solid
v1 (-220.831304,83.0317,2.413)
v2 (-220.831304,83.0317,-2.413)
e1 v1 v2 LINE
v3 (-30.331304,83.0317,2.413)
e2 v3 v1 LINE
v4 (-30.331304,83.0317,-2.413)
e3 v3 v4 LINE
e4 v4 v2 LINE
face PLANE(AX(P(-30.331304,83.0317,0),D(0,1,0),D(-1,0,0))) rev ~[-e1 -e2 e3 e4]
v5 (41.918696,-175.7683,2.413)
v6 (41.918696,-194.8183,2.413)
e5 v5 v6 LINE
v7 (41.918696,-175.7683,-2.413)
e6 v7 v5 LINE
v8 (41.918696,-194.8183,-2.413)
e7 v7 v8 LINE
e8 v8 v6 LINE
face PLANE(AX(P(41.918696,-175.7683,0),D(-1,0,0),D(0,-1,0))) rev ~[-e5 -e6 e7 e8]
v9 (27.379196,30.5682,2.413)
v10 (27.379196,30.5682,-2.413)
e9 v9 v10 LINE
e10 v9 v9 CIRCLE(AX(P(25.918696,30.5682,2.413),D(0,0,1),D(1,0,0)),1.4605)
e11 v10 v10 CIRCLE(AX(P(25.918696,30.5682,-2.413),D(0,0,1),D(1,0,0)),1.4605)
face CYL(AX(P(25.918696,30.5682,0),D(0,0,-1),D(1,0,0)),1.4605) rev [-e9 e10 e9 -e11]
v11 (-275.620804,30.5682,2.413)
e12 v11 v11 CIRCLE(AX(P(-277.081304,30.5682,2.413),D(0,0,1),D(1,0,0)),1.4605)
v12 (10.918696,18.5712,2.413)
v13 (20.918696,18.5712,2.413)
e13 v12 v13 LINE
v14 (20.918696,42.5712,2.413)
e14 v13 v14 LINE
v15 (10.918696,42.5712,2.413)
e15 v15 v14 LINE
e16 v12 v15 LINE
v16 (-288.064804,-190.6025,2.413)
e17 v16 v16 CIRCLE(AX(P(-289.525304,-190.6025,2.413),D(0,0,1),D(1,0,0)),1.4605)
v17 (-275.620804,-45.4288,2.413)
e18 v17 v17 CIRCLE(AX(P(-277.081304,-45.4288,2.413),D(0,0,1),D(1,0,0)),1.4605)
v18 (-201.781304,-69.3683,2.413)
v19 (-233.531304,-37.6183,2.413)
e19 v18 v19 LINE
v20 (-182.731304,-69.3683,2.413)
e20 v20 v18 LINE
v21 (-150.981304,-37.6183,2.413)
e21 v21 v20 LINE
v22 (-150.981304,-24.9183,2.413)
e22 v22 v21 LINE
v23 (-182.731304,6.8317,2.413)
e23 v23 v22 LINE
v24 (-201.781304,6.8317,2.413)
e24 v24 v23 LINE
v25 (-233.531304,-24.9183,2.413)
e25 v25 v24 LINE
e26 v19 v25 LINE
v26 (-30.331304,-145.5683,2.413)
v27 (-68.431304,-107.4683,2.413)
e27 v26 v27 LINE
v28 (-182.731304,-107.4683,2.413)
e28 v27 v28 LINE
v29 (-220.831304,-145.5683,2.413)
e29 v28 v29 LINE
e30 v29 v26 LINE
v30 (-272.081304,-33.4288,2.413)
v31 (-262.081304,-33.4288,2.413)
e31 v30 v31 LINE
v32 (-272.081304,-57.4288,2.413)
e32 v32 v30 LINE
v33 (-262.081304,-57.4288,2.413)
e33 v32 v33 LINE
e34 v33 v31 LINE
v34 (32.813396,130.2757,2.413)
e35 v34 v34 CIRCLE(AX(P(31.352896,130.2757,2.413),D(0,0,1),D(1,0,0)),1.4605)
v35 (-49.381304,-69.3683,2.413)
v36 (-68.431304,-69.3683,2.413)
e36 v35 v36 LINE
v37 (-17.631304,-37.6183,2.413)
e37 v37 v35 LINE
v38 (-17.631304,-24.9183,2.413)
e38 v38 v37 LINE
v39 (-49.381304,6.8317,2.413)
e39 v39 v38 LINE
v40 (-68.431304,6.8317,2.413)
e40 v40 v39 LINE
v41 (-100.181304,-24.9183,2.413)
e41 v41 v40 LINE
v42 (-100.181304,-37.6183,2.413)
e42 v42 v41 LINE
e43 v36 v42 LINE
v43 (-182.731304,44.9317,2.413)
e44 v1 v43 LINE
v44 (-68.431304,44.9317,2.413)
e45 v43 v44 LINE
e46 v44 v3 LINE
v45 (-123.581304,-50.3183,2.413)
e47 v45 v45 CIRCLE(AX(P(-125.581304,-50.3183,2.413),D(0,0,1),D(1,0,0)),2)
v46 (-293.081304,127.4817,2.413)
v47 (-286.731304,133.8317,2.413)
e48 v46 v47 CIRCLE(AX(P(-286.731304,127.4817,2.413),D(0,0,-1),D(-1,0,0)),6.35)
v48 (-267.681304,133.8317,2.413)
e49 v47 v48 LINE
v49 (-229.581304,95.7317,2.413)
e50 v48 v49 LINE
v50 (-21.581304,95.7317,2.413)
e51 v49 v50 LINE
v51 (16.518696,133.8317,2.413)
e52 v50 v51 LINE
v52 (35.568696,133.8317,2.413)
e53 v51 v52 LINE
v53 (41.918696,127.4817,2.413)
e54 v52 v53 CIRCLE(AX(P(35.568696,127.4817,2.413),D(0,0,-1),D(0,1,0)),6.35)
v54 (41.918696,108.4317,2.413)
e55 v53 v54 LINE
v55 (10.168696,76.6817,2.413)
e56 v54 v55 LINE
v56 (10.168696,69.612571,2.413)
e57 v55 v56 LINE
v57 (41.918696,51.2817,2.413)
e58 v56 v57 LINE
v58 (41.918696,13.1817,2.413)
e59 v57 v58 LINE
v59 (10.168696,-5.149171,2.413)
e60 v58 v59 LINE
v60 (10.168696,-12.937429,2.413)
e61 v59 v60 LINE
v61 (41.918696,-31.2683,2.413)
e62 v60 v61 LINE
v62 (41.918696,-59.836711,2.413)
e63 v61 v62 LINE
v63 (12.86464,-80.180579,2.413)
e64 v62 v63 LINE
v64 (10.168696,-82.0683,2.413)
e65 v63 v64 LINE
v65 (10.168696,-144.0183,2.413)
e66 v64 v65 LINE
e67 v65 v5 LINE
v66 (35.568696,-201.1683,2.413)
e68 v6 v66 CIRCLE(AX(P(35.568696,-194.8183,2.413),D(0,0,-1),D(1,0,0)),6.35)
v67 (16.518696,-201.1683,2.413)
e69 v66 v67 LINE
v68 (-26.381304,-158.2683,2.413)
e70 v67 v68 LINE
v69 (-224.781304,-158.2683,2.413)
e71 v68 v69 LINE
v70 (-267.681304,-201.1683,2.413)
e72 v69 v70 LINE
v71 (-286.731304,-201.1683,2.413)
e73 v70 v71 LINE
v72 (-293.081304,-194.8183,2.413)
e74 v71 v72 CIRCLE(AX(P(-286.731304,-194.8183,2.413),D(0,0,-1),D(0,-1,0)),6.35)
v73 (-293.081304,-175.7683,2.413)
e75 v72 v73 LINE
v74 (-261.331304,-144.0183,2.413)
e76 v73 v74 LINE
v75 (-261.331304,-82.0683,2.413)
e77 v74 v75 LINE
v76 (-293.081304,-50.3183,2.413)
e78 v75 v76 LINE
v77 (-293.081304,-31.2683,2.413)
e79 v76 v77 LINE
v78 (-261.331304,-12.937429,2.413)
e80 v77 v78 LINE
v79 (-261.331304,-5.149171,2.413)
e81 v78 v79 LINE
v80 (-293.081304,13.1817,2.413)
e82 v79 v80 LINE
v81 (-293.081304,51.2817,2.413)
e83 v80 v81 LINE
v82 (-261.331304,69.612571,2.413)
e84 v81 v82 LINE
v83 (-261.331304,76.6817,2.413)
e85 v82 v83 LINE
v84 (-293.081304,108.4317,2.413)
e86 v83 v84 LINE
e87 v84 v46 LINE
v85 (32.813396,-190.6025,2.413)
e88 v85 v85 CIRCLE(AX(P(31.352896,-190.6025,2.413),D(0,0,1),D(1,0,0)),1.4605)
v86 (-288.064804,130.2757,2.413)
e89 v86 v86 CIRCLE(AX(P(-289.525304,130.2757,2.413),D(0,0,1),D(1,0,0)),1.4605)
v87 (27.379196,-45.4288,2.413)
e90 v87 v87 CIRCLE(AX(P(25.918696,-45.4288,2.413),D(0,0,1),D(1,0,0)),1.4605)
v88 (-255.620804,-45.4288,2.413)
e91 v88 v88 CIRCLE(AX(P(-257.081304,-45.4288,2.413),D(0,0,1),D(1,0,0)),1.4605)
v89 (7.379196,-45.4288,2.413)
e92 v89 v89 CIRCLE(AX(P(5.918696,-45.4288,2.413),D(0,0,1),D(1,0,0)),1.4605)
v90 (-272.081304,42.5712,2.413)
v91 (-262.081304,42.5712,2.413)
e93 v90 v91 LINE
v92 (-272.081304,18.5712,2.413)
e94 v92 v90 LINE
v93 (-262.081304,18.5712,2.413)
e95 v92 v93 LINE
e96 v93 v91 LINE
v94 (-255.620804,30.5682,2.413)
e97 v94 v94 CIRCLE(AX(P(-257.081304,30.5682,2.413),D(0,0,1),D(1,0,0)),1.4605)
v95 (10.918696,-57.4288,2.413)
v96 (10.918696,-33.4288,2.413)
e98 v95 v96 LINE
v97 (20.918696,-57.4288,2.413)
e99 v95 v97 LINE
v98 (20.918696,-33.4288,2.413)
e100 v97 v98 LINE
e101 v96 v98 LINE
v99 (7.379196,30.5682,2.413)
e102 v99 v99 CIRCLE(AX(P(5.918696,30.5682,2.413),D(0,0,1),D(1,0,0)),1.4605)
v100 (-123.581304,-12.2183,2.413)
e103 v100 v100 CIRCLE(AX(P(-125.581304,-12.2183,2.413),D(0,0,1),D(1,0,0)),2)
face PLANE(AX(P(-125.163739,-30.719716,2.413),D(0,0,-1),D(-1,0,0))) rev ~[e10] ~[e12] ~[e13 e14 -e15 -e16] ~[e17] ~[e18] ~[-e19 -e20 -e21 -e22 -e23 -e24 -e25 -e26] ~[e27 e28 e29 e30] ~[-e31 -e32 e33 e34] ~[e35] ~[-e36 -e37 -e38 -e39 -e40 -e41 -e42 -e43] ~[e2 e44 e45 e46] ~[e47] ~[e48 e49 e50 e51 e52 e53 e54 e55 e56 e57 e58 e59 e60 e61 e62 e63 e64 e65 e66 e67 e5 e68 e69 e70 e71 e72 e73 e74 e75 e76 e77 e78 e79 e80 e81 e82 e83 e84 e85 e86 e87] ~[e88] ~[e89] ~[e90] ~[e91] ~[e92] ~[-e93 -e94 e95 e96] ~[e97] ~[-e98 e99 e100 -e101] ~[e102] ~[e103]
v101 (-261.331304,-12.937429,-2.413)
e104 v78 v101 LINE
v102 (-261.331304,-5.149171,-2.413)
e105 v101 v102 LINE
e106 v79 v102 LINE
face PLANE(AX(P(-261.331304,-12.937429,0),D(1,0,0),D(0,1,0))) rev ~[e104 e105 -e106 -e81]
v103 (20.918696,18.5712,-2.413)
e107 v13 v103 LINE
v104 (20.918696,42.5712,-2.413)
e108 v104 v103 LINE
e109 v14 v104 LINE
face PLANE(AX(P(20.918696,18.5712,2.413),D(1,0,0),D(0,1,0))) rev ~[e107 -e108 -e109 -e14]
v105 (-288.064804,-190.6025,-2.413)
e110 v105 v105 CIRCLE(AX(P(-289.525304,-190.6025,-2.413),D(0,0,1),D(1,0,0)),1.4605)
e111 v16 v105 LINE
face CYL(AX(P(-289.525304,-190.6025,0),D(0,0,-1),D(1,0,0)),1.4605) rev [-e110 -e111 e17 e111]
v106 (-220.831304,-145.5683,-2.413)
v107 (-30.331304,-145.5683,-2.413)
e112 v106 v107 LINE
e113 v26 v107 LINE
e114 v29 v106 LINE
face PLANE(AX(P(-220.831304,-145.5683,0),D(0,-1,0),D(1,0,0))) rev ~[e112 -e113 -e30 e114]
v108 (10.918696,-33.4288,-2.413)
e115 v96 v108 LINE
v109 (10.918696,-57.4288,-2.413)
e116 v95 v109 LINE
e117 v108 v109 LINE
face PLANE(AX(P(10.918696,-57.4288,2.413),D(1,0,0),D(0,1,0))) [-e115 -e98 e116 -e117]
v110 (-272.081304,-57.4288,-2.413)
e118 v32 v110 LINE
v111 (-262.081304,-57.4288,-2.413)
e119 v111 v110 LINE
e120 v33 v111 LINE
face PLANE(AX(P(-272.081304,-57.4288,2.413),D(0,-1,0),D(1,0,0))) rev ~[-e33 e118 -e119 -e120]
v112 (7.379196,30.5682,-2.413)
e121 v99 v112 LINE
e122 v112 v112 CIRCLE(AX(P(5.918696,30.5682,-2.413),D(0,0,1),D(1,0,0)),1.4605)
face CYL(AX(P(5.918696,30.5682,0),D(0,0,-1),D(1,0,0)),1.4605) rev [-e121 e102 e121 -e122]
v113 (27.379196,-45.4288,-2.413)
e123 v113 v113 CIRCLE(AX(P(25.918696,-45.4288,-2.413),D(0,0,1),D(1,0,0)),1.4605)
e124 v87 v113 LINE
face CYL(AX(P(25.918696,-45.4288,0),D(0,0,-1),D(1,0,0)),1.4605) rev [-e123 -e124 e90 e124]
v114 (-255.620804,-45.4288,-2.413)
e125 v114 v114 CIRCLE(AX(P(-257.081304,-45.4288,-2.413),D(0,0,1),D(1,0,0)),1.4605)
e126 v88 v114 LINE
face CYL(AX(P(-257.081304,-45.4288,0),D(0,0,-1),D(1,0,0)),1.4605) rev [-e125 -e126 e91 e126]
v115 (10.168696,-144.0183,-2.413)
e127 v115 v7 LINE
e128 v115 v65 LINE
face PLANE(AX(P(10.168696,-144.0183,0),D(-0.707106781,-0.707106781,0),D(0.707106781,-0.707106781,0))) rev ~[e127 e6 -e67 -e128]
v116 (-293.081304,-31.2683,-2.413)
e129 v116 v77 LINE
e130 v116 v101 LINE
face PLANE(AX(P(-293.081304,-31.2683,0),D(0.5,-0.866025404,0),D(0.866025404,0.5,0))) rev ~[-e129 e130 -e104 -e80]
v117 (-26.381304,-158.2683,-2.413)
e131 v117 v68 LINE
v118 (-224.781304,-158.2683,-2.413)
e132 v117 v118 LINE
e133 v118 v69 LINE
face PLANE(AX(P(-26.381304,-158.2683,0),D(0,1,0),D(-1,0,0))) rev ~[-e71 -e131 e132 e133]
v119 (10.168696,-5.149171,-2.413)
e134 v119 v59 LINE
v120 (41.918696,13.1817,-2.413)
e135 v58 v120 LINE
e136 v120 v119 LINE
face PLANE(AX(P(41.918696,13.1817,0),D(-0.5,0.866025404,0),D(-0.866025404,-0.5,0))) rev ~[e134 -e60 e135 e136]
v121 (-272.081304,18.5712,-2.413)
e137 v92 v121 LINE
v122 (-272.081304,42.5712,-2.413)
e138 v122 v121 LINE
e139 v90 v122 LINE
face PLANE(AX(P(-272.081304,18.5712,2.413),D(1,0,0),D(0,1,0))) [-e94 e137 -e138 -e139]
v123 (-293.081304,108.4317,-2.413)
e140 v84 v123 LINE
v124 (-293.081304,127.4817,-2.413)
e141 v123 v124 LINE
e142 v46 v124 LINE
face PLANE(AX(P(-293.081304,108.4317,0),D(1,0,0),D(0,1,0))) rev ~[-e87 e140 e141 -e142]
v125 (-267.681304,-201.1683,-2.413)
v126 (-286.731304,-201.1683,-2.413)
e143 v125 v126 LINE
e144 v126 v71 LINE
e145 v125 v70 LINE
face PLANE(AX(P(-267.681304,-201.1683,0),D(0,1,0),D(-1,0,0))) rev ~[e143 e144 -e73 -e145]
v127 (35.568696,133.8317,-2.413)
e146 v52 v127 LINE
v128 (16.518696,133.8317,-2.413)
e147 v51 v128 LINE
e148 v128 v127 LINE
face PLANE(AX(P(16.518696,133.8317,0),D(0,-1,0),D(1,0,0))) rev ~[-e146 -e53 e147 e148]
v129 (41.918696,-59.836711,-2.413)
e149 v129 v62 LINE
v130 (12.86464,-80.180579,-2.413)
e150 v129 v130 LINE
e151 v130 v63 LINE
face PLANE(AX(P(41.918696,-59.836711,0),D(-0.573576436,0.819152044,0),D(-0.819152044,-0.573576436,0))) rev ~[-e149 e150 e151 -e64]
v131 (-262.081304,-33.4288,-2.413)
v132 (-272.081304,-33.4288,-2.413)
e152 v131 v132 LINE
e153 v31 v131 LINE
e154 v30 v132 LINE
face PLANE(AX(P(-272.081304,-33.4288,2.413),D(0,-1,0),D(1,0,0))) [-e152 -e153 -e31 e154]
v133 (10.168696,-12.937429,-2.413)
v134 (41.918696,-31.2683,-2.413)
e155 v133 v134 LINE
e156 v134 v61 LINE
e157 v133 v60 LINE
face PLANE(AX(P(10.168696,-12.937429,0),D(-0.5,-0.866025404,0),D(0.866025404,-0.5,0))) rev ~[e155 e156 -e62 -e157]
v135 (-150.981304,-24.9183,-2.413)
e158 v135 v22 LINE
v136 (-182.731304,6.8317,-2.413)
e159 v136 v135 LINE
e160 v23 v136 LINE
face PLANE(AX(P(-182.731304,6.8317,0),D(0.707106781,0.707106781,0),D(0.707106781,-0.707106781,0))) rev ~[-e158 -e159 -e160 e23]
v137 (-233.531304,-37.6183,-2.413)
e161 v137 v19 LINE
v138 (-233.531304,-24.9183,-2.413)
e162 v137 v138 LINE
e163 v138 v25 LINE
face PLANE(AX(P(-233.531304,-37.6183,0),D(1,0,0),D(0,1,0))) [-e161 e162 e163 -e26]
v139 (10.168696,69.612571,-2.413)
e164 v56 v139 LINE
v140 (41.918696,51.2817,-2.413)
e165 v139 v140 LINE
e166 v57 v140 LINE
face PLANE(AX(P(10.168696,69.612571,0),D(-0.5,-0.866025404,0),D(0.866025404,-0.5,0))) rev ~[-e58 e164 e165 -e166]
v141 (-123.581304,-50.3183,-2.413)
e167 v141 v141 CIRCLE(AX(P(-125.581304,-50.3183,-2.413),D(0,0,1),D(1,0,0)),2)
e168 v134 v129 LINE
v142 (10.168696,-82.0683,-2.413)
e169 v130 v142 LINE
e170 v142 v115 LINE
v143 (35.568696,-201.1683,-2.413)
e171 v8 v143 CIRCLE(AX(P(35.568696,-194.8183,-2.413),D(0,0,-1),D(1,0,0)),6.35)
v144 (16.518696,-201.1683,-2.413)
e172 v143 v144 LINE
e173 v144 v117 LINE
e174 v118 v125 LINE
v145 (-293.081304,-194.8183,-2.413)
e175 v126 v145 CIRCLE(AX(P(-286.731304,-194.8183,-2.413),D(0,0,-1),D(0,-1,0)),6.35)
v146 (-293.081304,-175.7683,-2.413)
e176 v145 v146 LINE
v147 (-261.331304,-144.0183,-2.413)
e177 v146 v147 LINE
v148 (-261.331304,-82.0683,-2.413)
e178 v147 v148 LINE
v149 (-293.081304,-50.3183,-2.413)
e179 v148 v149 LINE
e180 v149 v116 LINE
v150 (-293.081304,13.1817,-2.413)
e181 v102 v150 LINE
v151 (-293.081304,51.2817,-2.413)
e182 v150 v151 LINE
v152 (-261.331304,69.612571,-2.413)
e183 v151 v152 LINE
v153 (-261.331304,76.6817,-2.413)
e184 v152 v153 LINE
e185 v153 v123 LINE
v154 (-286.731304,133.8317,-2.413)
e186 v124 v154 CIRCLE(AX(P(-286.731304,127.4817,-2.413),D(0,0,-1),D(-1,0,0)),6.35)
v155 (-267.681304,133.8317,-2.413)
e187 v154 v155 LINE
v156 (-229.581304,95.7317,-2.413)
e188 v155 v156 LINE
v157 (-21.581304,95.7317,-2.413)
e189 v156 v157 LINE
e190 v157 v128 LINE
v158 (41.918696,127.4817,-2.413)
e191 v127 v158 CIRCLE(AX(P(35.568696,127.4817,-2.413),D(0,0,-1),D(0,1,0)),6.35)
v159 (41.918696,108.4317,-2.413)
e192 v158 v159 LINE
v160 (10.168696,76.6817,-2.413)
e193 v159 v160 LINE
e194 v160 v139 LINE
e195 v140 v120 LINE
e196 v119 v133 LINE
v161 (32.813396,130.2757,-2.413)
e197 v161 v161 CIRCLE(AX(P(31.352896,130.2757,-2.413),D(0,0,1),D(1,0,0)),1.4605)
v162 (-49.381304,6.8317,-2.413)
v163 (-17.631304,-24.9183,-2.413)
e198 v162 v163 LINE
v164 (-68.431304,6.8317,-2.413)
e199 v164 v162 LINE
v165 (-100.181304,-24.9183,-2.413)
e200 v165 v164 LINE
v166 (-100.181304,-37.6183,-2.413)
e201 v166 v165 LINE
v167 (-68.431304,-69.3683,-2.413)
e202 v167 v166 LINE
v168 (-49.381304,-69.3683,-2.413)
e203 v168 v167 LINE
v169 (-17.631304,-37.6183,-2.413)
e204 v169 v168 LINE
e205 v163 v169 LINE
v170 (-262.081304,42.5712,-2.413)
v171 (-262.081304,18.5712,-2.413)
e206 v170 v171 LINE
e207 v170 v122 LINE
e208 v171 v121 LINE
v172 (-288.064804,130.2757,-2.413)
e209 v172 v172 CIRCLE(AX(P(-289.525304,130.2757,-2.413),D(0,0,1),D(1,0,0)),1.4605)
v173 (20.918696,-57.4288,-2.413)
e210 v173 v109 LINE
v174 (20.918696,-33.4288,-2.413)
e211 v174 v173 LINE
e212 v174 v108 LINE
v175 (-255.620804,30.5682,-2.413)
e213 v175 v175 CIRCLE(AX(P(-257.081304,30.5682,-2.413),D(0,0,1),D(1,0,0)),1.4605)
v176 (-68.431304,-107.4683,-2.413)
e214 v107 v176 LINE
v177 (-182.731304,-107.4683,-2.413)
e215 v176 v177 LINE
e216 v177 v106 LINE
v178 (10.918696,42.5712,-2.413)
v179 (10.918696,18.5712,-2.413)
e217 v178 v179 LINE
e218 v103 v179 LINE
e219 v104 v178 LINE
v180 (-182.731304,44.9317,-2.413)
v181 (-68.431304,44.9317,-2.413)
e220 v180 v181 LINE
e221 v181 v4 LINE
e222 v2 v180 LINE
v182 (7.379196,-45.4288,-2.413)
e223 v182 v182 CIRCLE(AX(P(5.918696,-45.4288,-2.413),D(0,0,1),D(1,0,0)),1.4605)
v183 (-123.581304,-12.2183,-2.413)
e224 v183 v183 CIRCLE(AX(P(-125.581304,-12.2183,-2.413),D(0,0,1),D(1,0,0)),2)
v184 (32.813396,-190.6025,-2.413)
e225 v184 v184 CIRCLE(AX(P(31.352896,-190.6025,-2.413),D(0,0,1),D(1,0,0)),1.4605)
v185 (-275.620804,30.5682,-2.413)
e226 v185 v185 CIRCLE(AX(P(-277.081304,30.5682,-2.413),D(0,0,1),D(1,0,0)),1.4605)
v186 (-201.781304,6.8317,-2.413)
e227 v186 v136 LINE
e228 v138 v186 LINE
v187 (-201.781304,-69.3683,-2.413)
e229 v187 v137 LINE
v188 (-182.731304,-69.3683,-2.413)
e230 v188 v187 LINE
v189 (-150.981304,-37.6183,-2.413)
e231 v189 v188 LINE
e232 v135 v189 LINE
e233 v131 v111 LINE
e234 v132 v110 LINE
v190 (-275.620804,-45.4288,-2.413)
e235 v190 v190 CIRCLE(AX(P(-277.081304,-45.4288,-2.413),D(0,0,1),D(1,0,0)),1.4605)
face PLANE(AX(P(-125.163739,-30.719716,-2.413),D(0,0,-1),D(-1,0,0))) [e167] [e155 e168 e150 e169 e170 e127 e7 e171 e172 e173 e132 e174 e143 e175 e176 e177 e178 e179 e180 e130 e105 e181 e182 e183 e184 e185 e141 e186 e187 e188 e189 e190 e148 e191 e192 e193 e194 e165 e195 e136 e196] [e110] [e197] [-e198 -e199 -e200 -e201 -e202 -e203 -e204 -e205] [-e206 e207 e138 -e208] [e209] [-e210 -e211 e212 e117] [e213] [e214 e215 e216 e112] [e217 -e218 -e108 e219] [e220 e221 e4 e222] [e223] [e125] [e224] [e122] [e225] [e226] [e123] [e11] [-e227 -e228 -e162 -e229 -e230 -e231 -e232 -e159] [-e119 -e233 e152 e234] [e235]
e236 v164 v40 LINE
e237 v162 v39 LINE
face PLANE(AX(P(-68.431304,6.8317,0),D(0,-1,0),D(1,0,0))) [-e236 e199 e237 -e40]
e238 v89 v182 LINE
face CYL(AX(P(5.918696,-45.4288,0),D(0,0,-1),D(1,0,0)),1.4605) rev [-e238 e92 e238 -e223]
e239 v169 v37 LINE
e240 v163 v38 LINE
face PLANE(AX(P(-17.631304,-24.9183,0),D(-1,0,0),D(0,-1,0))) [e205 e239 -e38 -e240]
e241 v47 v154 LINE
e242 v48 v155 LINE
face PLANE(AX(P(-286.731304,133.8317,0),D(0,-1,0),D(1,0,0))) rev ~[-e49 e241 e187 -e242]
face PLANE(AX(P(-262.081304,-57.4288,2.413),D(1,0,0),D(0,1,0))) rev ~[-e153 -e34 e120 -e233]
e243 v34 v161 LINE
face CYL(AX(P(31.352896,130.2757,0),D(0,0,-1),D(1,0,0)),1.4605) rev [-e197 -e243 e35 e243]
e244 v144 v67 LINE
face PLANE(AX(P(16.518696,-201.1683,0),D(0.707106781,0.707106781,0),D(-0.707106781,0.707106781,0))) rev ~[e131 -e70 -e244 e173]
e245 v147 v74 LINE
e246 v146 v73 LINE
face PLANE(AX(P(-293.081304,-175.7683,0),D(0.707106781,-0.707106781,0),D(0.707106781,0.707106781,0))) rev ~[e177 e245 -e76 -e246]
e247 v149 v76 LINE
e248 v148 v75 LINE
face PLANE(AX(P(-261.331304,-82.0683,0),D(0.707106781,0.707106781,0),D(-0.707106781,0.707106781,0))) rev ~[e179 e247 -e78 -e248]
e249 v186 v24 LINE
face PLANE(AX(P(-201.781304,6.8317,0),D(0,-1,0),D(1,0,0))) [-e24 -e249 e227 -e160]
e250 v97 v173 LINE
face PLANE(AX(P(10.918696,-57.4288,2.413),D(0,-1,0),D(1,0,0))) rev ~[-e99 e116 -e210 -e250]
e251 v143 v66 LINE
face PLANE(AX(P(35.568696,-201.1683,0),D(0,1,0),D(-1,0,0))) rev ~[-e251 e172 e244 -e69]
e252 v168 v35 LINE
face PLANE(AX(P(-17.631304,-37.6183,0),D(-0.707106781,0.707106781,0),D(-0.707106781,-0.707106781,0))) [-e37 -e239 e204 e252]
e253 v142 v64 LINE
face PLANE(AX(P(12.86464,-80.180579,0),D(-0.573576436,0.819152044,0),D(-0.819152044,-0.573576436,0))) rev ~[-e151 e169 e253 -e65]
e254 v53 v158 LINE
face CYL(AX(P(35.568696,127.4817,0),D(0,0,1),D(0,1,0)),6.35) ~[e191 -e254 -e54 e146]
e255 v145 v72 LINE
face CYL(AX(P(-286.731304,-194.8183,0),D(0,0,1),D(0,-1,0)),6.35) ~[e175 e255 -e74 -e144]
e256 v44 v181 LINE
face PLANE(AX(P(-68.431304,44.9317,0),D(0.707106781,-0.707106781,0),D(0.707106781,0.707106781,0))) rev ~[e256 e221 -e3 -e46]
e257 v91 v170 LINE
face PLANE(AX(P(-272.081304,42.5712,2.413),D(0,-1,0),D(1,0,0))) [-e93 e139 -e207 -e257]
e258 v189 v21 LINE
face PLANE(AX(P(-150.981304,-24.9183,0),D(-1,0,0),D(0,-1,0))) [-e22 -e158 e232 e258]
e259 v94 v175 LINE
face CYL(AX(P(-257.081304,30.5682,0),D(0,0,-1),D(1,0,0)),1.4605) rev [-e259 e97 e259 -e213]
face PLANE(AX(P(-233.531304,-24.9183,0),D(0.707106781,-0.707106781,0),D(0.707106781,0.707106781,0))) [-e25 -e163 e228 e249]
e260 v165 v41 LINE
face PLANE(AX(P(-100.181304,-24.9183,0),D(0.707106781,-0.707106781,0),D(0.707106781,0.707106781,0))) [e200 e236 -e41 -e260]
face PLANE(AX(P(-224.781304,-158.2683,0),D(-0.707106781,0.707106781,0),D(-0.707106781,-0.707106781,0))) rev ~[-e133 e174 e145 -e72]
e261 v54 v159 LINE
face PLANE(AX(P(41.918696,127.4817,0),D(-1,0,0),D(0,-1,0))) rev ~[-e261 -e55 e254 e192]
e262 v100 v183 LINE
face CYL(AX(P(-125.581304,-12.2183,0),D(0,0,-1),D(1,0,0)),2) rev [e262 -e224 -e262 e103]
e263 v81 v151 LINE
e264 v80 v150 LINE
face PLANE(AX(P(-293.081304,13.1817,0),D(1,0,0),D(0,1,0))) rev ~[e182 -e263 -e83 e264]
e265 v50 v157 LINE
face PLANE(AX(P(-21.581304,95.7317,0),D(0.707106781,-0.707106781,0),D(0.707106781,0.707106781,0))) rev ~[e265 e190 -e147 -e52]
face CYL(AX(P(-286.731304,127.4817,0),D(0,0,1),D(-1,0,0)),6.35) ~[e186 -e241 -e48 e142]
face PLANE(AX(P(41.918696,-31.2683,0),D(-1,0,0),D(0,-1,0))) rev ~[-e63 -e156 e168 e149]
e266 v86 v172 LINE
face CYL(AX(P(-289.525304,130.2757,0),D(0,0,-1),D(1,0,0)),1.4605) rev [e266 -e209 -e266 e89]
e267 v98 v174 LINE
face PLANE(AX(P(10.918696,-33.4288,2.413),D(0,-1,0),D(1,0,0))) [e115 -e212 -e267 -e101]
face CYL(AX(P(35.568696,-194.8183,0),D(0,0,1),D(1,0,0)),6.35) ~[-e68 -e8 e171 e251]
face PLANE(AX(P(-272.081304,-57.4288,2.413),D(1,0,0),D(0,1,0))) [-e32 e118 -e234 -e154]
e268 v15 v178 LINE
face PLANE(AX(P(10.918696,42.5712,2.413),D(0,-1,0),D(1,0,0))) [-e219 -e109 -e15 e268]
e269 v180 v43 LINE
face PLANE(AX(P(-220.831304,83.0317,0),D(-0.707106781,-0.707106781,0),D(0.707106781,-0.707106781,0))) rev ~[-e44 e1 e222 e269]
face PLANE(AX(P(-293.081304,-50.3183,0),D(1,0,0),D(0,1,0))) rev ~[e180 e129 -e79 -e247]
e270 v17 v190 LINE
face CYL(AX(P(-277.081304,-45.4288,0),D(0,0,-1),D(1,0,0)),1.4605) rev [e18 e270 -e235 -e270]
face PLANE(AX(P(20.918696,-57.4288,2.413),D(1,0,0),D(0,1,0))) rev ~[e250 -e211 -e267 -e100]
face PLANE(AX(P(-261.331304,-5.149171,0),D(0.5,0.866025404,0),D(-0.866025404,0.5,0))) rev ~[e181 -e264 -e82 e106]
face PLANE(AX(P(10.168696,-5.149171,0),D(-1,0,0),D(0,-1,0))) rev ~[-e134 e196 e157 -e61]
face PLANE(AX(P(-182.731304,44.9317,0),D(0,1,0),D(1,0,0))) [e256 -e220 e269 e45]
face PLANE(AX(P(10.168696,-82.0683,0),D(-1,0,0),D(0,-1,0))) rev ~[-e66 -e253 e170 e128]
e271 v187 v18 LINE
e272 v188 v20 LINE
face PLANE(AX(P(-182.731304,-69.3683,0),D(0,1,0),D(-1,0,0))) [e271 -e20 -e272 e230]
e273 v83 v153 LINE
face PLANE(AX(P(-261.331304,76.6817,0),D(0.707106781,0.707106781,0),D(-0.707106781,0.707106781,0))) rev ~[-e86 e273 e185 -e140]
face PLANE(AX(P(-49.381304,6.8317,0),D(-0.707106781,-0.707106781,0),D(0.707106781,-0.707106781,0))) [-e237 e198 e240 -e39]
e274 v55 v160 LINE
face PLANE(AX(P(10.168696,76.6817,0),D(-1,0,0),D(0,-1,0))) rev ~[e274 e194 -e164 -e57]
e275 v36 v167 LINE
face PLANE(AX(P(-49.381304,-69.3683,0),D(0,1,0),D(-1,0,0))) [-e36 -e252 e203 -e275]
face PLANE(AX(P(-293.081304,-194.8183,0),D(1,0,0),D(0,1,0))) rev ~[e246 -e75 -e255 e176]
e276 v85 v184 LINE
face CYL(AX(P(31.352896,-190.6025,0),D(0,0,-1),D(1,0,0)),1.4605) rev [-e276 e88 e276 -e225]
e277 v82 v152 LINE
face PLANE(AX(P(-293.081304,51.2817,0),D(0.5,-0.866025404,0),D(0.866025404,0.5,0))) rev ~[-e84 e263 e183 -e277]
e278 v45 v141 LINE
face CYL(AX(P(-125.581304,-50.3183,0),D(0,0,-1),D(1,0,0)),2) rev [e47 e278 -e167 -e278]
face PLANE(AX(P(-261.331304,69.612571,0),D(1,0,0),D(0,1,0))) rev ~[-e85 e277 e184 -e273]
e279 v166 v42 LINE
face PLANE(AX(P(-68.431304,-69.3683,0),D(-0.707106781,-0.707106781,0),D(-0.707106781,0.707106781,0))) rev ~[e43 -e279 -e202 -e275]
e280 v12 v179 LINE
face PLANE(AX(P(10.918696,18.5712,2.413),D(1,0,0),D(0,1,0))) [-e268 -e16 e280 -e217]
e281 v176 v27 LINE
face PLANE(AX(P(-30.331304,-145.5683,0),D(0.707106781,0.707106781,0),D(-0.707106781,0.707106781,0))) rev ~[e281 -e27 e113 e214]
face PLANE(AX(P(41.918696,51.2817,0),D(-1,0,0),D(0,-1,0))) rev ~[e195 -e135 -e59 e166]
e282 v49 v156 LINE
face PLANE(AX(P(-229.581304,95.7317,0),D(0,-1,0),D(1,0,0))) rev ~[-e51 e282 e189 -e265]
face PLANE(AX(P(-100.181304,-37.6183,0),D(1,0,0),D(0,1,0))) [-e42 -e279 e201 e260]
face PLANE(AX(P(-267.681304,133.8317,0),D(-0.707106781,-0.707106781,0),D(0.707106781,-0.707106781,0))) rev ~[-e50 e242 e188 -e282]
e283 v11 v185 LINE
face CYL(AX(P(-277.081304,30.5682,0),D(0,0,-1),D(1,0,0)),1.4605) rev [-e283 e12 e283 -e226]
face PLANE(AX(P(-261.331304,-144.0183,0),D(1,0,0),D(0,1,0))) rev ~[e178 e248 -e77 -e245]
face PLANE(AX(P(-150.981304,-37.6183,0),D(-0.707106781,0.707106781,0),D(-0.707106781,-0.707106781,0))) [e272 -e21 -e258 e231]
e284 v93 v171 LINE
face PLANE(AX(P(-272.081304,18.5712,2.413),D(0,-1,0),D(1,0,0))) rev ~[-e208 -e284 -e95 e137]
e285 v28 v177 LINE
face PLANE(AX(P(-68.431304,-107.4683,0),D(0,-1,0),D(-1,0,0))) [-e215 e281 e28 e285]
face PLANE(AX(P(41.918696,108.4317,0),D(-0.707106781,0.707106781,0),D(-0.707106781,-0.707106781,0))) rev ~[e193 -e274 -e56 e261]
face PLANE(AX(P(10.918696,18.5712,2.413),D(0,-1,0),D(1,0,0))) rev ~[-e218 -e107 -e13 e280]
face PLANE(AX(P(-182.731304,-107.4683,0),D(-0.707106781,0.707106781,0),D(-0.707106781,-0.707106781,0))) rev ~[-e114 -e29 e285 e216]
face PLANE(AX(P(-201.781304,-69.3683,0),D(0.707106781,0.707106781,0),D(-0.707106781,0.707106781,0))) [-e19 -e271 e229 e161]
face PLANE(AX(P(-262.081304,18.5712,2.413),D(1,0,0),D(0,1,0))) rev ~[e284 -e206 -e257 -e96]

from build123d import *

# Parameters (mm, degrees)
MODEL_R             = 1.4605
MODEL_R_2           = 2
BOSS_EXTRUDE1_DEPTH = 2.413
SKETCH1_W           = 10
SKETCH1_H           = 24
CUT_EXTRUDE1_DEPTH  = 10


with BuildPart() as part:
    # Model → Boss-Extrude1 (new body, symmetric)
    with BuildSketch(Plane.XY):
        with BuildLine():
            Line((-293.081304326, -31.2683), (-261.331304326, -12.937428953))
            Line((-261.331304326, -12.937428953), (-261.331304326, -5.149171047))
            Line((-261.331304326, -5.149171047), (-293.081304326, 13.1817))
            Line((-293.081304326, 13.1817), (-293.081304326, 51.2817))
            Line((-293.081304326, 51.2817), (-261.331304326, 69.612571047))
            Line((-261.331304326, 69.612571047), (-261.331304326, 76.6817))
            Line((-261.331304326, 76.6817), (-293.081304326, 108.4317))
            Line((-293.081304326, 108.4317), (-293.081304326, 127.4817))
            ThreePointArc((-293.081304326, 127.4817), (-291.221432386, 131.971828061), (-286.731304326, 133.8317))
            Line((-286.731304326, 133.8317), (-267.681304326, 133.8317))
            Line((-267.681304326, 133.8317), (-229.581304326, 95.7317))
            Line((-229.581304326, 95.7317), (-21.581304326, 95.7317))
            Line((-21.581304326, 95.7317), (16.518695674, 133.8317))
            Line((16.518695674, 133.8317), (35.568695674, 133.8317))
            ThreePointArc((35.568695674, 133.8317), (40.058823735, 131.971828061), (41.918695674, 127.4817))
            Line((41.918695674, 127.4817), (41.918695674, 108.4317))
            Line((41.918695674, 108.4317), (10.168695674, 76.6817))
            Line((10.168695674, 76.6817), (10.168695674, 69.612571047))
            Line((10.168695674, 69.612571047), (41.918695674, 51.2817))
            Line((41.918695674, 51.2817), (41.918695674, 13.1817))
            Line((41.918695674, 13.1817), (10.168695674, -5.149171047))
            Line((10.168695674, -5.149171047), (10.168695674, -12.937428953))
            Line((10.168695674, -12.937428953), (41.918695674, -31.2683))
            Line((41.918695674, -31.2683), (41.918695674, -59.836710662))
            Line((41.918695674, -59.836710662), (12.864640386, -80.18057919))
            Line((12.864640386, -80.18057919), (10.168695674, -82.0683))
            Line((10.168695674, -82.0683), (10.168695674, -144.0183))
            Line((10.168695674, -144.0183), (41.918695674, -175.7683))
            Line((41.918695674, -175.7683), (41.918695674, -194.8183))
            ThreePointArc((41.918695674, -194.8183), (40.058823735, -199.308428061), (35.568695674, -201.1683))
            Line((35.568695674, -201.1683), (16.518695674, -201.1683))
            Line((16.518695674, -201.1683), (-26.381304326, -158.2683))
            Line((-26.381304326, -158.2683), (-224.781304326, -158.2683))
            Line((-224.781304326, -158.2683), (-267.681304326, -201.1683))
            Line((-267.681304326, -201.1683), (-286.731304326, -201.1683))
            ThreePointArc((-286.731304326, -201.1683), (-291.221432386, -199.308428061), (-293.081304326, -194.8183))
            Line((-293.081304326, -194.8183), (-293.081304326, -175.7683))
            Line((-293.081304326, -175.7683), (-261.331304326, -144.0183))
            Line((-261.331304326, -144.0183), (-261.331304326, -82.0683))
            Line((-261.331304326, -82.0683), (-293.081304326, -50.3183))
            Line((-293.081304326, -50.3183), (-293.081304326, -31.2683))
        make_face()
        with Locations((-289.525304326, -190.6025)):
            Circle(MODEL_R, mode=Mode.SUBTRACT)
        with Locations((31.352895674, -190.6025)):
            Circle(MODEL_R, mode=Mode.SUBTRACT)
        with Locations((31.352895674, 130.2757)):
            Circle(MODEL_R, mode=Mode.SUBTRACT)
        with Locations((-289.525304326, 130.2757)):
            Circle(MODEL_R, mode=Mode.SUBTRACT)
        with Locations((-277.081304256, -45.4288)):
            Circle(MODEL_R, mode=Mode.SUBTRACT)
        with Locations((-257.081304256, -45.4288)):
            Circle(MODEL_R, mode=Mode.SUBTRACT)
        with Locations((25.918695604, -45.4288)):
            Circle(MODEL_R, mode=Mode.SUBTRACT)
        with Locations((5.918695604, -45.4288)):
            Circle(MODEL_R, mode=Mode.SUBTRACT)
        with Locations((25.918695604, 30.5682)):
            Circle(MODEL_R, mode=Mode.SUBTRACT)
        with Locations((5.918695604, 30.5682)):
            Circle(MODEL_R, mode=Mode.SUBTRACT)
        with Locations((-257.081304256, 30.5682)):
            Circle(MODEL_R, mode=Mode.SUBTRACT)
        with Locations((-277.081304256, 30.5682)):
            Circle(MODEL_R, mode=Mode.SUBTRACT)
        with Locations((-125.581304326, -12.2183)):
            Circle(MODEL_R_2, mode=Mode.SUBTRACT)
        with Locations((-125.581304326, -50.3183)):
            Circle(MODEL_R_2, mode=Mode.SUBTRACT)
        Polygon((-30.331304326, -145.5683), (-68.431304326, -107.4683), (-182.731304326, -107.4683), (-220.831304326, -145.5683), align=None, mode=Mode.SUBTRACT)
        Polygon((-220.831304326, 83.0317), (-182.731304326, 44.9317), (-68.431304326, 44.9317), (-30.331304326, 83.0317), align=None, mode=Mode.SUBTRACT)
        Polygon((-201.781304326, -69.3683), (-233.531304326, -37.6183), (-233.531304326, -24.9183), (-201.781304326, 6.8317), (-182.731304326, 6.8317), (-150.981304326, -24.9183), (-150.981304326, -37.6183), (-182.731304326, -69.3683), align=None, mode=Mode.SUBTRACT)
        Polygon((-100.181304326, -37.6183), (-100.181304326, -24.9183), (-68.431304326, 6.8317), (-49.381304326, 6.8317), (-17.631304326, -24.9183), (-17.631304326, -37.6183), (-49.381304326, -69.3683), (-68.431304326, -69.3683), align=None, mode=Mode.SUBTRACT)
    extrude(amount=BOSS_EXTRUDE1_DEPTH, both=True)

    # Sketch1 → Cut-Extrude1 (cut)
    with BuildSketch(Plane.XY.offset(2.413)):
        with Locations((-267.081304256, -45.4288)):
            Rectangle(SKETCH1_W, SKETCH1_H)
        with Locations((-267.081304256, 30.5712)):
            Rectangle(SKETCH1_W, SKETCH1_H)
        with Locations((15.918695604, 30.5712)):
            Rectangle(SKETCH1_W, SKETCH1_H)
        with Locations((15.918695604, -45.4288)):
            Rectangle(SKETCH1_W, SKETCH1_H)
    extrude(amount=-CUT_EXTRUDE1_DEPTH, mode=Mode.SUBTRACT)


solid = part.part
